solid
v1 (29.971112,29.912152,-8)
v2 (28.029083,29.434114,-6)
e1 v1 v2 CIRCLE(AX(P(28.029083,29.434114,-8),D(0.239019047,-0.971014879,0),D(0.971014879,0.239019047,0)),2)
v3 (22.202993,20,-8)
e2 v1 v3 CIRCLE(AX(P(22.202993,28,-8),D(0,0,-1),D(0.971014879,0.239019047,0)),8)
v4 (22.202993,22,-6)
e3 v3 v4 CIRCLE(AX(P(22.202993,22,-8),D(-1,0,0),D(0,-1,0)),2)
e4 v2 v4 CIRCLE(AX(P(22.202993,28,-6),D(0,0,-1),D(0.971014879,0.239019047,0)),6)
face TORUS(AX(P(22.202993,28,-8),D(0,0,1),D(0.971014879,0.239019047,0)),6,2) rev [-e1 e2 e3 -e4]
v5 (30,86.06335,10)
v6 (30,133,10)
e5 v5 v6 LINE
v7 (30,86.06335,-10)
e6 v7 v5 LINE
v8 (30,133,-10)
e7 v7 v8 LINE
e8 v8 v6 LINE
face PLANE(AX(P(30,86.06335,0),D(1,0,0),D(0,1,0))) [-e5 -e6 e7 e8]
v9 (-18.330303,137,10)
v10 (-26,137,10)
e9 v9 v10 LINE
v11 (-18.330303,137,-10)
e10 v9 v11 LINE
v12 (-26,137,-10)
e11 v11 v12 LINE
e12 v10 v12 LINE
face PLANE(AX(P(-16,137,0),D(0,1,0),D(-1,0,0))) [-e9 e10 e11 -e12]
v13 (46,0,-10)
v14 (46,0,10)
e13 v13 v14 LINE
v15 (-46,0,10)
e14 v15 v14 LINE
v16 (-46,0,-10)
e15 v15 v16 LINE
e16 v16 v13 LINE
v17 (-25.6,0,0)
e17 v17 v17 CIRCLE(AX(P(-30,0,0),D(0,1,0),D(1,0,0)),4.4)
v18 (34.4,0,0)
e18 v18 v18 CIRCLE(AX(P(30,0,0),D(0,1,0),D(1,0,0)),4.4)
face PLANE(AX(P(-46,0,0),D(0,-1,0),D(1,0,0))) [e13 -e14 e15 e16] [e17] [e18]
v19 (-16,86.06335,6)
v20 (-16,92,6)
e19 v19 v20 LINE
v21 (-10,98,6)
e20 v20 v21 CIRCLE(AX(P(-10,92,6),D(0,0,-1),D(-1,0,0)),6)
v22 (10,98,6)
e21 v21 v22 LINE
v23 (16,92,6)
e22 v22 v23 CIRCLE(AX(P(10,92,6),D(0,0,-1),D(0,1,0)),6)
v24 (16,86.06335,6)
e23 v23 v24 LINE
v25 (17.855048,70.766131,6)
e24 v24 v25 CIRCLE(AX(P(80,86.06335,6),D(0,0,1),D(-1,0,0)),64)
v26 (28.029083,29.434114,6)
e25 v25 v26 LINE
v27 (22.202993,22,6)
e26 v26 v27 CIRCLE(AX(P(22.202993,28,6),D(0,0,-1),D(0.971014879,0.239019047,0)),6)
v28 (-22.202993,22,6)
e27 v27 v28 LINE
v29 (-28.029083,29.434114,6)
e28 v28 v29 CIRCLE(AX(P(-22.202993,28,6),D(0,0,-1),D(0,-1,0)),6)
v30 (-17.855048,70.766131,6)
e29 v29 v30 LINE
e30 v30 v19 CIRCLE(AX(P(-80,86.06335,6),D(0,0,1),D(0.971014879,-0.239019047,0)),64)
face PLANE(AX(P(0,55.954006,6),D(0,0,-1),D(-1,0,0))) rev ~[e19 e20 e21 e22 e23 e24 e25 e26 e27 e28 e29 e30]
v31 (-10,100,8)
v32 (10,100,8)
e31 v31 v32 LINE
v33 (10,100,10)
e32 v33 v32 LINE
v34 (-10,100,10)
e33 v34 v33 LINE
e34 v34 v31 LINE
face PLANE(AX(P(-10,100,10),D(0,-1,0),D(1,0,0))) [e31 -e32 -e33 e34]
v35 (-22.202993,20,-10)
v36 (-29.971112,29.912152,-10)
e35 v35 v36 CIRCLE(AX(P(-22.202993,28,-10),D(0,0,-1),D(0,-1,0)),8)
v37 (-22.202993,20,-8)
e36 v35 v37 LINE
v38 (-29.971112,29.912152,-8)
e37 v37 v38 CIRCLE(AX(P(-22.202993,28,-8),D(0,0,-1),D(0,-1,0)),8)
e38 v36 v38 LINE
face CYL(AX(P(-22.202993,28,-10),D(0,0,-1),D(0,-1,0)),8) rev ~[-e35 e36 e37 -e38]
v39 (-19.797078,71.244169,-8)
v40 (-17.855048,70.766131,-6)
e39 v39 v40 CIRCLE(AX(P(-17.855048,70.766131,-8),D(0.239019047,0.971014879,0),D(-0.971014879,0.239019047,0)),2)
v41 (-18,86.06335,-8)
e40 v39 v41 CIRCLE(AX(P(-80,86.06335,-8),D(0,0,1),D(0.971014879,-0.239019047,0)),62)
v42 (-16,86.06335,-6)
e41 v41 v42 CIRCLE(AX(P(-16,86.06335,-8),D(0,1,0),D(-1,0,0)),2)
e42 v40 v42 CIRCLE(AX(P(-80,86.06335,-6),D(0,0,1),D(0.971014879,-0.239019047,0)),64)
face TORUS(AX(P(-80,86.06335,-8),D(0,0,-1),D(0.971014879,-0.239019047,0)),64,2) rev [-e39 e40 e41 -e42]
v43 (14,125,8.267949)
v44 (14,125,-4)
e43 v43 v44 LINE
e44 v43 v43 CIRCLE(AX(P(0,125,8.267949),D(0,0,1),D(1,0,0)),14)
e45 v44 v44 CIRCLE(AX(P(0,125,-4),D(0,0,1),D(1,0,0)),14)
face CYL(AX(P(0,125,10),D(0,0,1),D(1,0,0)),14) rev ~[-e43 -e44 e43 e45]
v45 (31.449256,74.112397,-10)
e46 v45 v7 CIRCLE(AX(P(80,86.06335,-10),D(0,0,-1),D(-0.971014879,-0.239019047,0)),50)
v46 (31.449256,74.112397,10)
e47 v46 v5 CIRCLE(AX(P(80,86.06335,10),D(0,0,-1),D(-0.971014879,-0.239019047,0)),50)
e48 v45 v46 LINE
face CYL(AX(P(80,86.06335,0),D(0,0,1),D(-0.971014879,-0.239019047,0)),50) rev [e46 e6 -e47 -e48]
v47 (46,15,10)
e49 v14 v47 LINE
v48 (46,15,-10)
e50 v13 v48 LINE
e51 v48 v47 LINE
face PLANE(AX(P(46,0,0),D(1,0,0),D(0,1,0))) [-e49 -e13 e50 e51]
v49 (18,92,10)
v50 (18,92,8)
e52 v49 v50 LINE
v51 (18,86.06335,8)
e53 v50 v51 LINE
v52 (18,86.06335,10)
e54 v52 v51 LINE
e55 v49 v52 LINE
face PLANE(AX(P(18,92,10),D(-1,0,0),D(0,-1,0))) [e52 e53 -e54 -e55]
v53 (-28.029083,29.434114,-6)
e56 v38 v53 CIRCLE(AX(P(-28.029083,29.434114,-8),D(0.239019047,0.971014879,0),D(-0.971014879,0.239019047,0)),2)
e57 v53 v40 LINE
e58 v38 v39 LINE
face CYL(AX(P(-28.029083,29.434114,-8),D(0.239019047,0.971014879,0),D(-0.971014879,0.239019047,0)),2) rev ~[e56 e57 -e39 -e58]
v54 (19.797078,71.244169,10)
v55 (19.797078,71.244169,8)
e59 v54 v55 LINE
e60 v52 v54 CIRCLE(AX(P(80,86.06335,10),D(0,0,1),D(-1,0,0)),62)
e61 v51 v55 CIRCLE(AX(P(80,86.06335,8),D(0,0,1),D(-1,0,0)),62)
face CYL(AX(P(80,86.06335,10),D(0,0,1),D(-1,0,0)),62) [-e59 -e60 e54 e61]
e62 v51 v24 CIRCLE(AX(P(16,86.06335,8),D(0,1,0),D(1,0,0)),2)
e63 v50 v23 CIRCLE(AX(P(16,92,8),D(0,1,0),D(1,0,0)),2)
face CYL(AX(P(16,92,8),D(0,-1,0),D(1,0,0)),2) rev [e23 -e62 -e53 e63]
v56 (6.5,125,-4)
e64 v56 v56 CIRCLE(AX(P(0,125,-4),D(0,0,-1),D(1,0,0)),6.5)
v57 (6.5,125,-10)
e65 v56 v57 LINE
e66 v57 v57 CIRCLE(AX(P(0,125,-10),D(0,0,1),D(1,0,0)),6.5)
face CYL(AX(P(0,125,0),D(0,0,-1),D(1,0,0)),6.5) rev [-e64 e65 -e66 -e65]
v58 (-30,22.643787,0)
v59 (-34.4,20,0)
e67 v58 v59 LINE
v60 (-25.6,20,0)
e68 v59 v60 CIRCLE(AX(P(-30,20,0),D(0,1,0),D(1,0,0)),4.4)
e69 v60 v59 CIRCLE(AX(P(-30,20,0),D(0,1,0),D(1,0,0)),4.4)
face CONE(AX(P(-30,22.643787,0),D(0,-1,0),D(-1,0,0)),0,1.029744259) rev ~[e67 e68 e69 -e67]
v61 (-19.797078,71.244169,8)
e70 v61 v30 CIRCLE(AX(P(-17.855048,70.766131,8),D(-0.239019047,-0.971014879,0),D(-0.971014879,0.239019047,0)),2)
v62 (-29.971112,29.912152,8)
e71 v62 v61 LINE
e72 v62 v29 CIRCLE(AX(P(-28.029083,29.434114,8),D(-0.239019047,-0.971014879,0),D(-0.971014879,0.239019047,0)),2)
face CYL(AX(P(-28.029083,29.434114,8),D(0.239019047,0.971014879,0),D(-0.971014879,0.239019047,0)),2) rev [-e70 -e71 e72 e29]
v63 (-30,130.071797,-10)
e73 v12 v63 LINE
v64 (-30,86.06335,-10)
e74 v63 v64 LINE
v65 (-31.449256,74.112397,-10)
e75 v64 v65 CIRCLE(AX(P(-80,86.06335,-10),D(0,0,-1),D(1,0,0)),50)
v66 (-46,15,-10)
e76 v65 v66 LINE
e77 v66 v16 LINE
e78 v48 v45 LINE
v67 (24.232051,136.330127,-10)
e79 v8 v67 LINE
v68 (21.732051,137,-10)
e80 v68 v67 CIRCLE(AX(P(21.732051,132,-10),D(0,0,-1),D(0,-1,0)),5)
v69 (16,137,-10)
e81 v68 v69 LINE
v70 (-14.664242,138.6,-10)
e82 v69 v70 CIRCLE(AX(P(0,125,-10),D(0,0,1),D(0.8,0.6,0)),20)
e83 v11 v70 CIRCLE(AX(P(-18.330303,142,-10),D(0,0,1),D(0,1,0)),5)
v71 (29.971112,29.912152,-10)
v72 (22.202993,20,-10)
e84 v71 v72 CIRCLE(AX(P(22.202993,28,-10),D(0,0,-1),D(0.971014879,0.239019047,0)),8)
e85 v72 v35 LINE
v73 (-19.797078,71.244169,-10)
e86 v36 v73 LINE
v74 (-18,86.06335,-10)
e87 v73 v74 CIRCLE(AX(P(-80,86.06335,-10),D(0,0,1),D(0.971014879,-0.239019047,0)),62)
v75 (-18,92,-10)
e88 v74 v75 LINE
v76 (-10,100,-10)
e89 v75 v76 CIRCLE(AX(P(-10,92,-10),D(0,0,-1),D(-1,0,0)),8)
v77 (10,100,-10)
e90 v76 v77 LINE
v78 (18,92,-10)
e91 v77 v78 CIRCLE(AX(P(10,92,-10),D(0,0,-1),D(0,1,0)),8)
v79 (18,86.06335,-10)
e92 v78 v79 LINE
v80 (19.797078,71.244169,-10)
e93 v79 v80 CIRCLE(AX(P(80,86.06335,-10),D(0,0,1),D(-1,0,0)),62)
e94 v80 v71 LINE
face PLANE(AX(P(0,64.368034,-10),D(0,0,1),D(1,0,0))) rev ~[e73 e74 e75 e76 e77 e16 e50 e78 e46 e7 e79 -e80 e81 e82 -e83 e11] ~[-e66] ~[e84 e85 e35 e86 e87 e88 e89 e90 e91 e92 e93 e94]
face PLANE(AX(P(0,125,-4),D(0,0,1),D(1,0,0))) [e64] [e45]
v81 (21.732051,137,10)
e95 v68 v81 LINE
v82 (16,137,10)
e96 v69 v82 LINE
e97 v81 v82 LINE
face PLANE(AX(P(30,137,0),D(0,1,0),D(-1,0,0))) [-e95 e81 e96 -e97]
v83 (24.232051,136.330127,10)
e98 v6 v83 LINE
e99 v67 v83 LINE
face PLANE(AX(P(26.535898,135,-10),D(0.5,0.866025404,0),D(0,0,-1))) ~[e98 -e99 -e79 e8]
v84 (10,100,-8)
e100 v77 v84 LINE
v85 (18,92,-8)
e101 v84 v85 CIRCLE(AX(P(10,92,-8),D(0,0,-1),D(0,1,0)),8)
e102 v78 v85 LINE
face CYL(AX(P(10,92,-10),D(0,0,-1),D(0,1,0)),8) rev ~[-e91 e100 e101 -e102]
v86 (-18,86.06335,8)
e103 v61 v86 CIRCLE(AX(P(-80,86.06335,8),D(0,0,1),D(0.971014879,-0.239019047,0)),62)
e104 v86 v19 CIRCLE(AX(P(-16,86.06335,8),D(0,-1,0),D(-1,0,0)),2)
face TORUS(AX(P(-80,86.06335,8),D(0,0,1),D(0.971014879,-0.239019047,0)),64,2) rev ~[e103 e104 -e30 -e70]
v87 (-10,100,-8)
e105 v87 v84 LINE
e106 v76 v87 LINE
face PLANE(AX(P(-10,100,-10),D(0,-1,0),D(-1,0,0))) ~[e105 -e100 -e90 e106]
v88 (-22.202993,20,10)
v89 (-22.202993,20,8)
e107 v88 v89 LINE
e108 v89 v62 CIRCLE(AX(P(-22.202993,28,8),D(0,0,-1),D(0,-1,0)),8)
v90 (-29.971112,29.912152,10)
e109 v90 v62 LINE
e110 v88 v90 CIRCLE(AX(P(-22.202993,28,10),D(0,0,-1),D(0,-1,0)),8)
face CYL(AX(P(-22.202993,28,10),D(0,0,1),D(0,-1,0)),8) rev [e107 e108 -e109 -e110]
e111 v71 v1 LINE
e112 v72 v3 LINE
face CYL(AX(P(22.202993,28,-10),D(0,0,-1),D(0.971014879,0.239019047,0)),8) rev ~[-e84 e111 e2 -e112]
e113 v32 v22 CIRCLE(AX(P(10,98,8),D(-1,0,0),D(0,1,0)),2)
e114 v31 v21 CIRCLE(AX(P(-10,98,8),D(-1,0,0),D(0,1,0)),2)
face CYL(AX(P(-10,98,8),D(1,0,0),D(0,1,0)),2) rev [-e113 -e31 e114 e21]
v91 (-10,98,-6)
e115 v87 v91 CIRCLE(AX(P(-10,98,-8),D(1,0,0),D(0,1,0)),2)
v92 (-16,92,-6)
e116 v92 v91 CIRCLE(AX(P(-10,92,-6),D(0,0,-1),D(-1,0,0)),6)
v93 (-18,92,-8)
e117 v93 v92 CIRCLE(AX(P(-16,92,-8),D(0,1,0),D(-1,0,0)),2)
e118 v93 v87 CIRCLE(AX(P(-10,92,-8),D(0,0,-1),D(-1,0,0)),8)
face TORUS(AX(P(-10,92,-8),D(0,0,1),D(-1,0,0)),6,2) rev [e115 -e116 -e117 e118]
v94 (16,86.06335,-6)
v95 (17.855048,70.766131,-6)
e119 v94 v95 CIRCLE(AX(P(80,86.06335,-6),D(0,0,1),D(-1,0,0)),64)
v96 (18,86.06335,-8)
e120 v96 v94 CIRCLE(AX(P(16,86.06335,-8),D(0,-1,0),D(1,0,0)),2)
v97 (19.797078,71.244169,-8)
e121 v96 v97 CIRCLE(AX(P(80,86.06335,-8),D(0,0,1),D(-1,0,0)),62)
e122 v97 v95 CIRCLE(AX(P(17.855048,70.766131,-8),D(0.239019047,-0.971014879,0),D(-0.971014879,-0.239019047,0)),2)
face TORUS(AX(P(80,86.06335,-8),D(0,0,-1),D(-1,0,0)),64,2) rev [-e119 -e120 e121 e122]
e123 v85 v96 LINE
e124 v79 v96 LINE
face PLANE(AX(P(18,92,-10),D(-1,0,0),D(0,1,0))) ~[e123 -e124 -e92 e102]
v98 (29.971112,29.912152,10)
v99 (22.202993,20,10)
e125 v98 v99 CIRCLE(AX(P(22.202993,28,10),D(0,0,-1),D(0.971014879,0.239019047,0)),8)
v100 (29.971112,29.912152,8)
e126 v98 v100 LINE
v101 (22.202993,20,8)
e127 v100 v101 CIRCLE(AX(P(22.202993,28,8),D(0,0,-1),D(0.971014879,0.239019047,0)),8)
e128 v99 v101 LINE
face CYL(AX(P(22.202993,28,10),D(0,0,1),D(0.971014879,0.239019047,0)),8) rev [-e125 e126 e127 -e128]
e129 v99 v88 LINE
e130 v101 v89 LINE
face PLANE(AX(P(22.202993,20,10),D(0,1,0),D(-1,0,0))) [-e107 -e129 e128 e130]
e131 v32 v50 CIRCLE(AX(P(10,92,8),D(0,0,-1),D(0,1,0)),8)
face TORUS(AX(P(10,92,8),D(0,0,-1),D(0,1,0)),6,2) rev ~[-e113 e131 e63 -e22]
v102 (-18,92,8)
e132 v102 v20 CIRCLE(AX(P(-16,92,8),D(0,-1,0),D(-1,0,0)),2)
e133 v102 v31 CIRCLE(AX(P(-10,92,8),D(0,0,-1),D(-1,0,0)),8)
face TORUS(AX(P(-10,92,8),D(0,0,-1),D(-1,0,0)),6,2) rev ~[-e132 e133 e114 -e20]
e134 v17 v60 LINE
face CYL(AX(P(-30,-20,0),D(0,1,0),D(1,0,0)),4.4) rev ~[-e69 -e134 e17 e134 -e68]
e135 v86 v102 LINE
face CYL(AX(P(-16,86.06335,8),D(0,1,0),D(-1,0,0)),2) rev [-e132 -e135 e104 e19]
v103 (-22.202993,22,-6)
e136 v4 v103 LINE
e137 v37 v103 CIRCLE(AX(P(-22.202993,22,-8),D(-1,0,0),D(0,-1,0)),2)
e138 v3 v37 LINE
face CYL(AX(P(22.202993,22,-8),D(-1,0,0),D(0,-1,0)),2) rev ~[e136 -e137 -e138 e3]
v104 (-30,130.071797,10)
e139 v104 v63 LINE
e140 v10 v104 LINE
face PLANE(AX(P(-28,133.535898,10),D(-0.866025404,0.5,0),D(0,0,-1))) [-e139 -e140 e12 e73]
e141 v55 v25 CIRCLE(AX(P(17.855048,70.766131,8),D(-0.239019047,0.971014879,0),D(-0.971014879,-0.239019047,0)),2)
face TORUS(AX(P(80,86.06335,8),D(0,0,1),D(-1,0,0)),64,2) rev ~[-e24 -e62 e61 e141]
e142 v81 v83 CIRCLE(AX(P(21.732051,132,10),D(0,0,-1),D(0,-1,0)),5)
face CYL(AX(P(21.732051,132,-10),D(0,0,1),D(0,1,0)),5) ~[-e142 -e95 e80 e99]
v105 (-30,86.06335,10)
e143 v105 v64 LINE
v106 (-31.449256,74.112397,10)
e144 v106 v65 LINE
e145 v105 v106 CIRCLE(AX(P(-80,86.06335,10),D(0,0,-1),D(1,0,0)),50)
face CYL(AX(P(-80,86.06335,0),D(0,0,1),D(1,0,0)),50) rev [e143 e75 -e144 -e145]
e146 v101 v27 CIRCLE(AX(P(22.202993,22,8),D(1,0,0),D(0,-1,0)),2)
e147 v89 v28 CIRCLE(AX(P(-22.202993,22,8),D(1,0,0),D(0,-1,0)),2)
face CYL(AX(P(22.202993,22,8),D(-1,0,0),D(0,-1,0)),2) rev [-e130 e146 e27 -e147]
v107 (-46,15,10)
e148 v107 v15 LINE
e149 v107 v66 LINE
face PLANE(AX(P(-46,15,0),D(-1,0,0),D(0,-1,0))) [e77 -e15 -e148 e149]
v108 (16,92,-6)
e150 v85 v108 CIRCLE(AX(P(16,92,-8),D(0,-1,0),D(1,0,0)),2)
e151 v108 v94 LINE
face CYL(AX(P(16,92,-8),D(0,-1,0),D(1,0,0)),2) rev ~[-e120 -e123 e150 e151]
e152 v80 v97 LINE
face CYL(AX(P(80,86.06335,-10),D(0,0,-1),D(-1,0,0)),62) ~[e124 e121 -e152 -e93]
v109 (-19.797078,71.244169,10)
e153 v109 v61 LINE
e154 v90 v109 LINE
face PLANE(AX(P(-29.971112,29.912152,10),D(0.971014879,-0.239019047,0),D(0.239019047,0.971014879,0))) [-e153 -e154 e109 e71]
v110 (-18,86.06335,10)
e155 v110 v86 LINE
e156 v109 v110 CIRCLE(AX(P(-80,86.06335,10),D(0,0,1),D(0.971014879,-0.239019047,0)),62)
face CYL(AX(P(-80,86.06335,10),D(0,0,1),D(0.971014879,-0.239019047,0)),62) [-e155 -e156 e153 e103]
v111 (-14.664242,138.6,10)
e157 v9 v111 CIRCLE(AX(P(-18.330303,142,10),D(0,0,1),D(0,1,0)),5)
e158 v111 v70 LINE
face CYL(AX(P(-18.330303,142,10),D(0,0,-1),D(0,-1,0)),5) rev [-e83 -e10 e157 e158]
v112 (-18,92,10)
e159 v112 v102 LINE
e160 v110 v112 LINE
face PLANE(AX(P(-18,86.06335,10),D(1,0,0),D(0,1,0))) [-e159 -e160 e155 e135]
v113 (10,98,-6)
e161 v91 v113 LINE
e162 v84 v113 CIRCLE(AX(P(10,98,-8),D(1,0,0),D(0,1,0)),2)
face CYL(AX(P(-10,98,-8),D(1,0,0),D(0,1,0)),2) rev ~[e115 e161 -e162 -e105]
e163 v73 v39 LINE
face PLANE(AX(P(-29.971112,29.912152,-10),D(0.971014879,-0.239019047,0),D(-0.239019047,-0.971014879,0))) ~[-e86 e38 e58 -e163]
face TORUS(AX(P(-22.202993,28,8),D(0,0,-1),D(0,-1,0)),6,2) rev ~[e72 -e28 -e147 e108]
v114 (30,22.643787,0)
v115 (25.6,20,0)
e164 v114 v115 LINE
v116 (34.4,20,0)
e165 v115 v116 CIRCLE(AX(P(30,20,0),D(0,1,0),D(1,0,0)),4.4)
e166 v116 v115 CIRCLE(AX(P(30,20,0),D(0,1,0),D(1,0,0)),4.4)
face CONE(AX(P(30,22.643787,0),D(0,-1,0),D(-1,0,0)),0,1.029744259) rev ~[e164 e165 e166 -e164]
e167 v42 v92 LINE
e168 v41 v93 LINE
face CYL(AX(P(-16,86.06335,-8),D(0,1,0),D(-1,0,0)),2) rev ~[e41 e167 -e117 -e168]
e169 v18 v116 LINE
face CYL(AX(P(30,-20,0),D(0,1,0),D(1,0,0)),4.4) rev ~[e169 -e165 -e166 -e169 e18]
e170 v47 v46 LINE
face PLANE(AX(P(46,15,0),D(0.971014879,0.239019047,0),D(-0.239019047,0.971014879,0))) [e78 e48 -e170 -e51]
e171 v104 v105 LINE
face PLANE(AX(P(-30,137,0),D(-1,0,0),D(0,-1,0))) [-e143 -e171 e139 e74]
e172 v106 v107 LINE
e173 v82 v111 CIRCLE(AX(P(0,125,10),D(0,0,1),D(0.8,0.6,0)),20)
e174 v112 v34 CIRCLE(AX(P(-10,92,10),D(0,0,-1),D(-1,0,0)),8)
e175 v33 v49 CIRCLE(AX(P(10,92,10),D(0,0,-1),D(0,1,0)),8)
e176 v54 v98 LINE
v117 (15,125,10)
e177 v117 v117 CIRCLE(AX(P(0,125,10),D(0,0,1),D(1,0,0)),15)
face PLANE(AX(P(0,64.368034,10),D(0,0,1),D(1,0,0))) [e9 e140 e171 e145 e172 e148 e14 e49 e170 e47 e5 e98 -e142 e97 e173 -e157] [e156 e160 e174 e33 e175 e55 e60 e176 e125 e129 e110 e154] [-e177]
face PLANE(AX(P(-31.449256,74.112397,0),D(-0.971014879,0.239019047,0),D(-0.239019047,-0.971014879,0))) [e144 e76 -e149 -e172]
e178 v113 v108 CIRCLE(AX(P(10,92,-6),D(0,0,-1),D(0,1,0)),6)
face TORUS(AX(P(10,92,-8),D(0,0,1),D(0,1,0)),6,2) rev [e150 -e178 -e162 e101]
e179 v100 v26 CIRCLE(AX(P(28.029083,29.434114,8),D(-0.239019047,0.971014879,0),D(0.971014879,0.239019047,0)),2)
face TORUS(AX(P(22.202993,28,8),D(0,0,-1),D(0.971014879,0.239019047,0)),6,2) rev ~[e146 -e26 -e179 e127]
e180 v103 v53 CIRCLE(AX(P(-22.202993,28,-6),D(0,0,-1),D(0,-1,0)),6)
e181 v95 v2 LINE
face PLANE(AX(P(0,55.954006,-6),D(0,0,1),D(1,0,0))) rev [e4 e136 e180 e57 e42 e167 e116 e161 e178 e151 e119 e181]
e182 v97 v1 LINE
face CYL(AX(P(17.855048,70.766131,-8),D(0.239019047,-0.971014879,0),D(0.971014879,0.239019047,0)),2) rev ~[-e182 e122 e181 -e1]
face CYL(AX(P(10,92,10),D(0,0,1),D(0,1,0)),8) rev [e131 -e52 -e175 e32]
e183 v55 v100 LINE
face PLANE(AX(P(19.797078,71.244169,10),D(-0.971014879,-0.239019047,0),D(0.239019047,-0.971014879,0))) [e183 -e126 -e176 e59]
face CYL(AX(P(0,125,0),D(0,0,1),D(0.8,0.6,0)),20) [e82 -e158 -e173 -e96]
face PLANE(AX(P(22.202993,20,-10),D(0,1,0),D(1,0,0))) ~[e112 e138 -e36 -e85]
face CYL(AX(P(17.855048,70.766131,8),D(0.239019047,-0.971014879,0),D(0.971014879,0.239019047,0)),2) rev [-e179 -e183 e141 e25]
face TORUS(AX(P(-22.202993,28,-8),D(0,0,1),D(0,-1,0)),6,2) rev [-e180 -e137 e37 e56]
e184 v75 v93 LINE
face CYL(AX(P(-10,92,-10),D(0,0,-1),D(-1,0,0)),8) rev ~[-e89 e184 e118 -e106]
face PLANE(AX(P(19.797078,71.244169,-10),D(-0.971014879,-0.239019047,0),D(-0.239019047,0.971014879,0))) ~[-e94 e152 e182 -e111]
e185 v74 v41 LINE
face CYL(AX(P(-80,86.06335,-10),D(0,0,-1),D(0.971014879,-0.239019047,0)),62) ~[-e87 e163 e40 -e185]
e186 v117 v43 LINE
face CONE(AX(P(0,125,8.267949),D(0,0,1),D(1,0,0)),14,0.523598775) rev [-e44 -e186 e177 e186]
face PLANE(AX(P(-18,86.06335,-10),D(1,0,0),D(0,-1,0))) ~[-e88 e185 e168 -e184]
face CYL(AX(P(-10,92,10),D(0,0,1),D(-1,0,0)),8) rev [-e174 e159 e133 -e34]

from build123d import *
from OCP.BRepFilletAPI import BRepFilletAPI_MakeChamfer

# Parameters (mm, degrees)
SKETCH1_R                   = 6.5
BOSS_EXTRUDE1_DEPTH         = 10
SKETCH2_R                   = 14
CUT_EXTRUDE1_DEPTH          = 14
CHAMFER1_SIZE               = 1
CHAMFER1_SIZE2              = 1.732050808
CHAMFER2_SIZE               = 4
CHAMFER2_SIZE2              = 6.92820323
FILLET1_R                   = 5
CUT_EXTRUDE2_DEPTH          = 4
FILLET2_R                   = 2
FILLET2_OF_MIRROR1_R        = 2
M10X1_25_TAPPED_HOLE1_D     = 8.8
M10X1_25_TAPPED_HOLE1_DEPTH = 20
M10X1_25_TAPPED_HOLE1_TIP   = 2.643786724


with BuildPart() as part:
    # Sketch1 → Boss-Extrude1 (new, symmetric)
    with BuildSketch(Plane.XY):
        with BuildLine():
            Line((-46, 0), (46, 0))
            Line((46, 0), (46, 15))
            Line((46, 15), (31.449256053, 74.112397284))
            ThreePointArc((31.449256053, 74.112397284), (30.363636327, 80.044097084), (30, 86.06334964))
            Line((30, 86.06334964), (30, 137))
            Line((30, 137), (16, 137))
            ThreePointArc((16, 137), (0, 145), (-16, 137))
            Line((-16, 137), (-30, 137))
            Line((-30, 137), (-30, 86.06334964))
            ThreePointArc((-30, 86.06334964), (-30.363636327, 80.044097084), (-31.449256053, 74.112397284))
            Line((-31.449256053, 74.112397284), (-46, 15))
            Line((-46, 15), (-46, 0))
        make_face()
        with Locations((0, 125)):
            Circle(SKETCH1_R, mode=Mode.SUBTRACT)
    extrude(amount=BOSS_EXTRUDE1_DEPTH, both=True)

    # Sketch2 → Cut-Extrude1 (cut)
    with BuildSketch(Plane.XY.offset(10)):
        with Locations((0, 125)):
            Circle(SKETCH2_R)
    extrude(amount=-CUT_EXTRUDE1_DEPTH, mode=Mode.SUBTRACT)

    # Chamfer1
    chamfer1_edges = [part.edges().sort_by_distance(p)[0] for p in [
        (-14, 125, 10),
    ]]
    chamfer1_side = [part.faces().sort_by_distance(p)[0] for p in [
        (0, 59.441099991, 10),
    ]]
    chamfer(chamfer1_edges, length=CHAMFER1_SIZE, length2=CHAMFER1_SIZE2, reference=chamfer1_side[0])

    # Chamfer2: one chamfer whose edges measure the first distance from different faces: ONE call of the kernel's chamfer builder (chamfer() names one face for all edges)
    chamfer2_edges_1 = [part.edges().sort_by_distance(p)[0] for p in [
        (-30, 137, 0),
    ]]
    chamfer2_side_1 = [part.faces().sort_by_distance(p)[0] for p in [
        (-23, 137, 0),
    ]]
    chamfer2_edges_2 = [part.edges().sort_by_distance(p)[0] for p in [
        (30, 137, 0),
    ]]
    chamfer2_side_2 = [part.faces().sort_by_distance(p)[0] for p in [
        (30, 111.53167482, 0),
    ]]
    chamfer2 = BRepFilletAPI_MakeChamfer(part.part.solid().wrapped)
    for e in chamfer2_edges_1:
        chamfer2.Add(CHAMFER2_SIZE, CHAMFER2_SIZE2, e.wrapped, chamfer2_side_1[0].wrapped)  # the first distance lies on this face
    for e in chamfer2_edges_2:
        chamfer2.Add(CHAMFER2_SIZE, CHAMFER2_SIZE2, e.wrapped, chamfer2_side_2[0].wrapped)  # the first distance lies on this face
    add(Compound.cast(chamfer2.Shape()), mode=Mode.REPLACE)

    # Fillet1
    fillet1_edges = [part.edges().sort_by_distance(p)[0] for p in [
        (-16, 137, 0),
        (23.07179677, 137, 0),
    ]]
    fillet(fillet1_edges, radius=FILLET1_R)

    # Sketch4 → Cut-Extrude2 (cut)
    with BuildSketch(Plane.XY.offset(10)):
        with BuildLine():
            ThreePointArc((-19.797077506, 71.244168718), (-18.450909046, 78.59947647), (-18, 86.06334964))
            Line((-18, 86.06334964), (-18, 92))
            ThreePointArc((-18, 92), (-15.656854249, 97.656854249), (-10, 100))
            Line((-10, 100), (10, 100))
            ThreePointArc((10, 100), (15.656854249, 97.656854249), (18, 92))
            Line((18, 92), (18, 86.06334964))
            ThreePointArc((18, 86.06334964), (18.450909046, 78.59947647), (19.797077506, 71.244168718))
            Line((19.797077506, 71.244168718), (29.971112298, 29.912152377))
            ThreePointArc((29.971112298, 29.912152377), (28.49970745, 23.065287193), (22.202993266, 20))
            Line((22.202993266, 20), (-22.202993266, 20))
            ThreePointArc((-22.202993266, 20), (-28.49970745, 23.065287193), (-29.971112298, 29.912152377))
            Line((-29.971112298, 29.912152377), (-19.797077506, 71.244168718))
        make_face()
    cut_extrude2 = extrude(amount=-CUT_EXTRUDE2_DEPTH, mode=Mode.SUBTRACT)

    # Fillet2
    fillet2_edges = [part.edges().sort_by_distance(p)[0] for p in [
        (-18, 89.03167482, 6),
        (-15.656854249, 97.656854249, 6),
        (18, 89.03167482, 6),
        (24.884094902, 50.578160548, 6),
        (28.49970745, 23.065287193, 6),
        (0, 20, 6),
        (-24.884094902, 50.578160548, 6),
        (-18.450909046, 78.59947647, 6),
        (0, 100, 6),
        (15.656854249, 97.656854249, 6),
        (18.450909046, 78.59947647, 6),
        (-28.49970745, 23.065287193, 6),
    ]]
    fillet(fillet2_edges, radius=FILLET2_R)

    # Mirror1: Cut-Extrude2 across plane
    add(cut_extrude2.mirror(Plane.XY), mode=Mode.SUBTRACT)

    # Fillet2 of Mirror1
    fillet2_of_mirror1_edges = [part.edges().sort_by_distance(p)[0] for p in [
        (-18, 89.03167482, -6),
        (-15.656854249, 97.656854249, -6),
        (18, 89.03167482, -6),
        (24.884094902, 50.578160548, -6),
        (28.49970745, 23.065287193, -6),
        (0, 20, -6),
        (-24.884094902, 50.578160548, -6),
        (-18.450909046, 78.59947647, -6),
        (0, 100, -6),
        (15.656854249, 97.656854249, -6),
        (18.450909046, 78.59947647, -6),
        (-28.49970745, 23.065287193, -6),
    ]]
    fillet(fillet2_of_mirror1_edges, radius=FILLET2_OF_MIRROR1_R)

    # M10x1.25 Tapped Hole1
    with Locations(Plane(origin=(0, 0, 0), x_dir=(-1, 0, 0), z_dir=(0, -1, 0))):
        with Locations((-30, 0), (30, 0)):
            Hole(M10X1_25_TAPPED_HOLE1_D / 2, depth=M10X1_25_TAPPED_HOLE1_DEPTH)
            with Locations((0, 0, -(M10X1_25_TAPPED_HOLE1_DEPTH + M10X1_25_TAPPED_HOLE1_TIP / 2))):  # 118° drill point
                Cone(0, M10X1_25_TAPPED_HOLE1_D / 2, M10X1_25_TAPPED_HOLE1_TIP, mode=Mode.SUBTRACT)


solid = part.part
